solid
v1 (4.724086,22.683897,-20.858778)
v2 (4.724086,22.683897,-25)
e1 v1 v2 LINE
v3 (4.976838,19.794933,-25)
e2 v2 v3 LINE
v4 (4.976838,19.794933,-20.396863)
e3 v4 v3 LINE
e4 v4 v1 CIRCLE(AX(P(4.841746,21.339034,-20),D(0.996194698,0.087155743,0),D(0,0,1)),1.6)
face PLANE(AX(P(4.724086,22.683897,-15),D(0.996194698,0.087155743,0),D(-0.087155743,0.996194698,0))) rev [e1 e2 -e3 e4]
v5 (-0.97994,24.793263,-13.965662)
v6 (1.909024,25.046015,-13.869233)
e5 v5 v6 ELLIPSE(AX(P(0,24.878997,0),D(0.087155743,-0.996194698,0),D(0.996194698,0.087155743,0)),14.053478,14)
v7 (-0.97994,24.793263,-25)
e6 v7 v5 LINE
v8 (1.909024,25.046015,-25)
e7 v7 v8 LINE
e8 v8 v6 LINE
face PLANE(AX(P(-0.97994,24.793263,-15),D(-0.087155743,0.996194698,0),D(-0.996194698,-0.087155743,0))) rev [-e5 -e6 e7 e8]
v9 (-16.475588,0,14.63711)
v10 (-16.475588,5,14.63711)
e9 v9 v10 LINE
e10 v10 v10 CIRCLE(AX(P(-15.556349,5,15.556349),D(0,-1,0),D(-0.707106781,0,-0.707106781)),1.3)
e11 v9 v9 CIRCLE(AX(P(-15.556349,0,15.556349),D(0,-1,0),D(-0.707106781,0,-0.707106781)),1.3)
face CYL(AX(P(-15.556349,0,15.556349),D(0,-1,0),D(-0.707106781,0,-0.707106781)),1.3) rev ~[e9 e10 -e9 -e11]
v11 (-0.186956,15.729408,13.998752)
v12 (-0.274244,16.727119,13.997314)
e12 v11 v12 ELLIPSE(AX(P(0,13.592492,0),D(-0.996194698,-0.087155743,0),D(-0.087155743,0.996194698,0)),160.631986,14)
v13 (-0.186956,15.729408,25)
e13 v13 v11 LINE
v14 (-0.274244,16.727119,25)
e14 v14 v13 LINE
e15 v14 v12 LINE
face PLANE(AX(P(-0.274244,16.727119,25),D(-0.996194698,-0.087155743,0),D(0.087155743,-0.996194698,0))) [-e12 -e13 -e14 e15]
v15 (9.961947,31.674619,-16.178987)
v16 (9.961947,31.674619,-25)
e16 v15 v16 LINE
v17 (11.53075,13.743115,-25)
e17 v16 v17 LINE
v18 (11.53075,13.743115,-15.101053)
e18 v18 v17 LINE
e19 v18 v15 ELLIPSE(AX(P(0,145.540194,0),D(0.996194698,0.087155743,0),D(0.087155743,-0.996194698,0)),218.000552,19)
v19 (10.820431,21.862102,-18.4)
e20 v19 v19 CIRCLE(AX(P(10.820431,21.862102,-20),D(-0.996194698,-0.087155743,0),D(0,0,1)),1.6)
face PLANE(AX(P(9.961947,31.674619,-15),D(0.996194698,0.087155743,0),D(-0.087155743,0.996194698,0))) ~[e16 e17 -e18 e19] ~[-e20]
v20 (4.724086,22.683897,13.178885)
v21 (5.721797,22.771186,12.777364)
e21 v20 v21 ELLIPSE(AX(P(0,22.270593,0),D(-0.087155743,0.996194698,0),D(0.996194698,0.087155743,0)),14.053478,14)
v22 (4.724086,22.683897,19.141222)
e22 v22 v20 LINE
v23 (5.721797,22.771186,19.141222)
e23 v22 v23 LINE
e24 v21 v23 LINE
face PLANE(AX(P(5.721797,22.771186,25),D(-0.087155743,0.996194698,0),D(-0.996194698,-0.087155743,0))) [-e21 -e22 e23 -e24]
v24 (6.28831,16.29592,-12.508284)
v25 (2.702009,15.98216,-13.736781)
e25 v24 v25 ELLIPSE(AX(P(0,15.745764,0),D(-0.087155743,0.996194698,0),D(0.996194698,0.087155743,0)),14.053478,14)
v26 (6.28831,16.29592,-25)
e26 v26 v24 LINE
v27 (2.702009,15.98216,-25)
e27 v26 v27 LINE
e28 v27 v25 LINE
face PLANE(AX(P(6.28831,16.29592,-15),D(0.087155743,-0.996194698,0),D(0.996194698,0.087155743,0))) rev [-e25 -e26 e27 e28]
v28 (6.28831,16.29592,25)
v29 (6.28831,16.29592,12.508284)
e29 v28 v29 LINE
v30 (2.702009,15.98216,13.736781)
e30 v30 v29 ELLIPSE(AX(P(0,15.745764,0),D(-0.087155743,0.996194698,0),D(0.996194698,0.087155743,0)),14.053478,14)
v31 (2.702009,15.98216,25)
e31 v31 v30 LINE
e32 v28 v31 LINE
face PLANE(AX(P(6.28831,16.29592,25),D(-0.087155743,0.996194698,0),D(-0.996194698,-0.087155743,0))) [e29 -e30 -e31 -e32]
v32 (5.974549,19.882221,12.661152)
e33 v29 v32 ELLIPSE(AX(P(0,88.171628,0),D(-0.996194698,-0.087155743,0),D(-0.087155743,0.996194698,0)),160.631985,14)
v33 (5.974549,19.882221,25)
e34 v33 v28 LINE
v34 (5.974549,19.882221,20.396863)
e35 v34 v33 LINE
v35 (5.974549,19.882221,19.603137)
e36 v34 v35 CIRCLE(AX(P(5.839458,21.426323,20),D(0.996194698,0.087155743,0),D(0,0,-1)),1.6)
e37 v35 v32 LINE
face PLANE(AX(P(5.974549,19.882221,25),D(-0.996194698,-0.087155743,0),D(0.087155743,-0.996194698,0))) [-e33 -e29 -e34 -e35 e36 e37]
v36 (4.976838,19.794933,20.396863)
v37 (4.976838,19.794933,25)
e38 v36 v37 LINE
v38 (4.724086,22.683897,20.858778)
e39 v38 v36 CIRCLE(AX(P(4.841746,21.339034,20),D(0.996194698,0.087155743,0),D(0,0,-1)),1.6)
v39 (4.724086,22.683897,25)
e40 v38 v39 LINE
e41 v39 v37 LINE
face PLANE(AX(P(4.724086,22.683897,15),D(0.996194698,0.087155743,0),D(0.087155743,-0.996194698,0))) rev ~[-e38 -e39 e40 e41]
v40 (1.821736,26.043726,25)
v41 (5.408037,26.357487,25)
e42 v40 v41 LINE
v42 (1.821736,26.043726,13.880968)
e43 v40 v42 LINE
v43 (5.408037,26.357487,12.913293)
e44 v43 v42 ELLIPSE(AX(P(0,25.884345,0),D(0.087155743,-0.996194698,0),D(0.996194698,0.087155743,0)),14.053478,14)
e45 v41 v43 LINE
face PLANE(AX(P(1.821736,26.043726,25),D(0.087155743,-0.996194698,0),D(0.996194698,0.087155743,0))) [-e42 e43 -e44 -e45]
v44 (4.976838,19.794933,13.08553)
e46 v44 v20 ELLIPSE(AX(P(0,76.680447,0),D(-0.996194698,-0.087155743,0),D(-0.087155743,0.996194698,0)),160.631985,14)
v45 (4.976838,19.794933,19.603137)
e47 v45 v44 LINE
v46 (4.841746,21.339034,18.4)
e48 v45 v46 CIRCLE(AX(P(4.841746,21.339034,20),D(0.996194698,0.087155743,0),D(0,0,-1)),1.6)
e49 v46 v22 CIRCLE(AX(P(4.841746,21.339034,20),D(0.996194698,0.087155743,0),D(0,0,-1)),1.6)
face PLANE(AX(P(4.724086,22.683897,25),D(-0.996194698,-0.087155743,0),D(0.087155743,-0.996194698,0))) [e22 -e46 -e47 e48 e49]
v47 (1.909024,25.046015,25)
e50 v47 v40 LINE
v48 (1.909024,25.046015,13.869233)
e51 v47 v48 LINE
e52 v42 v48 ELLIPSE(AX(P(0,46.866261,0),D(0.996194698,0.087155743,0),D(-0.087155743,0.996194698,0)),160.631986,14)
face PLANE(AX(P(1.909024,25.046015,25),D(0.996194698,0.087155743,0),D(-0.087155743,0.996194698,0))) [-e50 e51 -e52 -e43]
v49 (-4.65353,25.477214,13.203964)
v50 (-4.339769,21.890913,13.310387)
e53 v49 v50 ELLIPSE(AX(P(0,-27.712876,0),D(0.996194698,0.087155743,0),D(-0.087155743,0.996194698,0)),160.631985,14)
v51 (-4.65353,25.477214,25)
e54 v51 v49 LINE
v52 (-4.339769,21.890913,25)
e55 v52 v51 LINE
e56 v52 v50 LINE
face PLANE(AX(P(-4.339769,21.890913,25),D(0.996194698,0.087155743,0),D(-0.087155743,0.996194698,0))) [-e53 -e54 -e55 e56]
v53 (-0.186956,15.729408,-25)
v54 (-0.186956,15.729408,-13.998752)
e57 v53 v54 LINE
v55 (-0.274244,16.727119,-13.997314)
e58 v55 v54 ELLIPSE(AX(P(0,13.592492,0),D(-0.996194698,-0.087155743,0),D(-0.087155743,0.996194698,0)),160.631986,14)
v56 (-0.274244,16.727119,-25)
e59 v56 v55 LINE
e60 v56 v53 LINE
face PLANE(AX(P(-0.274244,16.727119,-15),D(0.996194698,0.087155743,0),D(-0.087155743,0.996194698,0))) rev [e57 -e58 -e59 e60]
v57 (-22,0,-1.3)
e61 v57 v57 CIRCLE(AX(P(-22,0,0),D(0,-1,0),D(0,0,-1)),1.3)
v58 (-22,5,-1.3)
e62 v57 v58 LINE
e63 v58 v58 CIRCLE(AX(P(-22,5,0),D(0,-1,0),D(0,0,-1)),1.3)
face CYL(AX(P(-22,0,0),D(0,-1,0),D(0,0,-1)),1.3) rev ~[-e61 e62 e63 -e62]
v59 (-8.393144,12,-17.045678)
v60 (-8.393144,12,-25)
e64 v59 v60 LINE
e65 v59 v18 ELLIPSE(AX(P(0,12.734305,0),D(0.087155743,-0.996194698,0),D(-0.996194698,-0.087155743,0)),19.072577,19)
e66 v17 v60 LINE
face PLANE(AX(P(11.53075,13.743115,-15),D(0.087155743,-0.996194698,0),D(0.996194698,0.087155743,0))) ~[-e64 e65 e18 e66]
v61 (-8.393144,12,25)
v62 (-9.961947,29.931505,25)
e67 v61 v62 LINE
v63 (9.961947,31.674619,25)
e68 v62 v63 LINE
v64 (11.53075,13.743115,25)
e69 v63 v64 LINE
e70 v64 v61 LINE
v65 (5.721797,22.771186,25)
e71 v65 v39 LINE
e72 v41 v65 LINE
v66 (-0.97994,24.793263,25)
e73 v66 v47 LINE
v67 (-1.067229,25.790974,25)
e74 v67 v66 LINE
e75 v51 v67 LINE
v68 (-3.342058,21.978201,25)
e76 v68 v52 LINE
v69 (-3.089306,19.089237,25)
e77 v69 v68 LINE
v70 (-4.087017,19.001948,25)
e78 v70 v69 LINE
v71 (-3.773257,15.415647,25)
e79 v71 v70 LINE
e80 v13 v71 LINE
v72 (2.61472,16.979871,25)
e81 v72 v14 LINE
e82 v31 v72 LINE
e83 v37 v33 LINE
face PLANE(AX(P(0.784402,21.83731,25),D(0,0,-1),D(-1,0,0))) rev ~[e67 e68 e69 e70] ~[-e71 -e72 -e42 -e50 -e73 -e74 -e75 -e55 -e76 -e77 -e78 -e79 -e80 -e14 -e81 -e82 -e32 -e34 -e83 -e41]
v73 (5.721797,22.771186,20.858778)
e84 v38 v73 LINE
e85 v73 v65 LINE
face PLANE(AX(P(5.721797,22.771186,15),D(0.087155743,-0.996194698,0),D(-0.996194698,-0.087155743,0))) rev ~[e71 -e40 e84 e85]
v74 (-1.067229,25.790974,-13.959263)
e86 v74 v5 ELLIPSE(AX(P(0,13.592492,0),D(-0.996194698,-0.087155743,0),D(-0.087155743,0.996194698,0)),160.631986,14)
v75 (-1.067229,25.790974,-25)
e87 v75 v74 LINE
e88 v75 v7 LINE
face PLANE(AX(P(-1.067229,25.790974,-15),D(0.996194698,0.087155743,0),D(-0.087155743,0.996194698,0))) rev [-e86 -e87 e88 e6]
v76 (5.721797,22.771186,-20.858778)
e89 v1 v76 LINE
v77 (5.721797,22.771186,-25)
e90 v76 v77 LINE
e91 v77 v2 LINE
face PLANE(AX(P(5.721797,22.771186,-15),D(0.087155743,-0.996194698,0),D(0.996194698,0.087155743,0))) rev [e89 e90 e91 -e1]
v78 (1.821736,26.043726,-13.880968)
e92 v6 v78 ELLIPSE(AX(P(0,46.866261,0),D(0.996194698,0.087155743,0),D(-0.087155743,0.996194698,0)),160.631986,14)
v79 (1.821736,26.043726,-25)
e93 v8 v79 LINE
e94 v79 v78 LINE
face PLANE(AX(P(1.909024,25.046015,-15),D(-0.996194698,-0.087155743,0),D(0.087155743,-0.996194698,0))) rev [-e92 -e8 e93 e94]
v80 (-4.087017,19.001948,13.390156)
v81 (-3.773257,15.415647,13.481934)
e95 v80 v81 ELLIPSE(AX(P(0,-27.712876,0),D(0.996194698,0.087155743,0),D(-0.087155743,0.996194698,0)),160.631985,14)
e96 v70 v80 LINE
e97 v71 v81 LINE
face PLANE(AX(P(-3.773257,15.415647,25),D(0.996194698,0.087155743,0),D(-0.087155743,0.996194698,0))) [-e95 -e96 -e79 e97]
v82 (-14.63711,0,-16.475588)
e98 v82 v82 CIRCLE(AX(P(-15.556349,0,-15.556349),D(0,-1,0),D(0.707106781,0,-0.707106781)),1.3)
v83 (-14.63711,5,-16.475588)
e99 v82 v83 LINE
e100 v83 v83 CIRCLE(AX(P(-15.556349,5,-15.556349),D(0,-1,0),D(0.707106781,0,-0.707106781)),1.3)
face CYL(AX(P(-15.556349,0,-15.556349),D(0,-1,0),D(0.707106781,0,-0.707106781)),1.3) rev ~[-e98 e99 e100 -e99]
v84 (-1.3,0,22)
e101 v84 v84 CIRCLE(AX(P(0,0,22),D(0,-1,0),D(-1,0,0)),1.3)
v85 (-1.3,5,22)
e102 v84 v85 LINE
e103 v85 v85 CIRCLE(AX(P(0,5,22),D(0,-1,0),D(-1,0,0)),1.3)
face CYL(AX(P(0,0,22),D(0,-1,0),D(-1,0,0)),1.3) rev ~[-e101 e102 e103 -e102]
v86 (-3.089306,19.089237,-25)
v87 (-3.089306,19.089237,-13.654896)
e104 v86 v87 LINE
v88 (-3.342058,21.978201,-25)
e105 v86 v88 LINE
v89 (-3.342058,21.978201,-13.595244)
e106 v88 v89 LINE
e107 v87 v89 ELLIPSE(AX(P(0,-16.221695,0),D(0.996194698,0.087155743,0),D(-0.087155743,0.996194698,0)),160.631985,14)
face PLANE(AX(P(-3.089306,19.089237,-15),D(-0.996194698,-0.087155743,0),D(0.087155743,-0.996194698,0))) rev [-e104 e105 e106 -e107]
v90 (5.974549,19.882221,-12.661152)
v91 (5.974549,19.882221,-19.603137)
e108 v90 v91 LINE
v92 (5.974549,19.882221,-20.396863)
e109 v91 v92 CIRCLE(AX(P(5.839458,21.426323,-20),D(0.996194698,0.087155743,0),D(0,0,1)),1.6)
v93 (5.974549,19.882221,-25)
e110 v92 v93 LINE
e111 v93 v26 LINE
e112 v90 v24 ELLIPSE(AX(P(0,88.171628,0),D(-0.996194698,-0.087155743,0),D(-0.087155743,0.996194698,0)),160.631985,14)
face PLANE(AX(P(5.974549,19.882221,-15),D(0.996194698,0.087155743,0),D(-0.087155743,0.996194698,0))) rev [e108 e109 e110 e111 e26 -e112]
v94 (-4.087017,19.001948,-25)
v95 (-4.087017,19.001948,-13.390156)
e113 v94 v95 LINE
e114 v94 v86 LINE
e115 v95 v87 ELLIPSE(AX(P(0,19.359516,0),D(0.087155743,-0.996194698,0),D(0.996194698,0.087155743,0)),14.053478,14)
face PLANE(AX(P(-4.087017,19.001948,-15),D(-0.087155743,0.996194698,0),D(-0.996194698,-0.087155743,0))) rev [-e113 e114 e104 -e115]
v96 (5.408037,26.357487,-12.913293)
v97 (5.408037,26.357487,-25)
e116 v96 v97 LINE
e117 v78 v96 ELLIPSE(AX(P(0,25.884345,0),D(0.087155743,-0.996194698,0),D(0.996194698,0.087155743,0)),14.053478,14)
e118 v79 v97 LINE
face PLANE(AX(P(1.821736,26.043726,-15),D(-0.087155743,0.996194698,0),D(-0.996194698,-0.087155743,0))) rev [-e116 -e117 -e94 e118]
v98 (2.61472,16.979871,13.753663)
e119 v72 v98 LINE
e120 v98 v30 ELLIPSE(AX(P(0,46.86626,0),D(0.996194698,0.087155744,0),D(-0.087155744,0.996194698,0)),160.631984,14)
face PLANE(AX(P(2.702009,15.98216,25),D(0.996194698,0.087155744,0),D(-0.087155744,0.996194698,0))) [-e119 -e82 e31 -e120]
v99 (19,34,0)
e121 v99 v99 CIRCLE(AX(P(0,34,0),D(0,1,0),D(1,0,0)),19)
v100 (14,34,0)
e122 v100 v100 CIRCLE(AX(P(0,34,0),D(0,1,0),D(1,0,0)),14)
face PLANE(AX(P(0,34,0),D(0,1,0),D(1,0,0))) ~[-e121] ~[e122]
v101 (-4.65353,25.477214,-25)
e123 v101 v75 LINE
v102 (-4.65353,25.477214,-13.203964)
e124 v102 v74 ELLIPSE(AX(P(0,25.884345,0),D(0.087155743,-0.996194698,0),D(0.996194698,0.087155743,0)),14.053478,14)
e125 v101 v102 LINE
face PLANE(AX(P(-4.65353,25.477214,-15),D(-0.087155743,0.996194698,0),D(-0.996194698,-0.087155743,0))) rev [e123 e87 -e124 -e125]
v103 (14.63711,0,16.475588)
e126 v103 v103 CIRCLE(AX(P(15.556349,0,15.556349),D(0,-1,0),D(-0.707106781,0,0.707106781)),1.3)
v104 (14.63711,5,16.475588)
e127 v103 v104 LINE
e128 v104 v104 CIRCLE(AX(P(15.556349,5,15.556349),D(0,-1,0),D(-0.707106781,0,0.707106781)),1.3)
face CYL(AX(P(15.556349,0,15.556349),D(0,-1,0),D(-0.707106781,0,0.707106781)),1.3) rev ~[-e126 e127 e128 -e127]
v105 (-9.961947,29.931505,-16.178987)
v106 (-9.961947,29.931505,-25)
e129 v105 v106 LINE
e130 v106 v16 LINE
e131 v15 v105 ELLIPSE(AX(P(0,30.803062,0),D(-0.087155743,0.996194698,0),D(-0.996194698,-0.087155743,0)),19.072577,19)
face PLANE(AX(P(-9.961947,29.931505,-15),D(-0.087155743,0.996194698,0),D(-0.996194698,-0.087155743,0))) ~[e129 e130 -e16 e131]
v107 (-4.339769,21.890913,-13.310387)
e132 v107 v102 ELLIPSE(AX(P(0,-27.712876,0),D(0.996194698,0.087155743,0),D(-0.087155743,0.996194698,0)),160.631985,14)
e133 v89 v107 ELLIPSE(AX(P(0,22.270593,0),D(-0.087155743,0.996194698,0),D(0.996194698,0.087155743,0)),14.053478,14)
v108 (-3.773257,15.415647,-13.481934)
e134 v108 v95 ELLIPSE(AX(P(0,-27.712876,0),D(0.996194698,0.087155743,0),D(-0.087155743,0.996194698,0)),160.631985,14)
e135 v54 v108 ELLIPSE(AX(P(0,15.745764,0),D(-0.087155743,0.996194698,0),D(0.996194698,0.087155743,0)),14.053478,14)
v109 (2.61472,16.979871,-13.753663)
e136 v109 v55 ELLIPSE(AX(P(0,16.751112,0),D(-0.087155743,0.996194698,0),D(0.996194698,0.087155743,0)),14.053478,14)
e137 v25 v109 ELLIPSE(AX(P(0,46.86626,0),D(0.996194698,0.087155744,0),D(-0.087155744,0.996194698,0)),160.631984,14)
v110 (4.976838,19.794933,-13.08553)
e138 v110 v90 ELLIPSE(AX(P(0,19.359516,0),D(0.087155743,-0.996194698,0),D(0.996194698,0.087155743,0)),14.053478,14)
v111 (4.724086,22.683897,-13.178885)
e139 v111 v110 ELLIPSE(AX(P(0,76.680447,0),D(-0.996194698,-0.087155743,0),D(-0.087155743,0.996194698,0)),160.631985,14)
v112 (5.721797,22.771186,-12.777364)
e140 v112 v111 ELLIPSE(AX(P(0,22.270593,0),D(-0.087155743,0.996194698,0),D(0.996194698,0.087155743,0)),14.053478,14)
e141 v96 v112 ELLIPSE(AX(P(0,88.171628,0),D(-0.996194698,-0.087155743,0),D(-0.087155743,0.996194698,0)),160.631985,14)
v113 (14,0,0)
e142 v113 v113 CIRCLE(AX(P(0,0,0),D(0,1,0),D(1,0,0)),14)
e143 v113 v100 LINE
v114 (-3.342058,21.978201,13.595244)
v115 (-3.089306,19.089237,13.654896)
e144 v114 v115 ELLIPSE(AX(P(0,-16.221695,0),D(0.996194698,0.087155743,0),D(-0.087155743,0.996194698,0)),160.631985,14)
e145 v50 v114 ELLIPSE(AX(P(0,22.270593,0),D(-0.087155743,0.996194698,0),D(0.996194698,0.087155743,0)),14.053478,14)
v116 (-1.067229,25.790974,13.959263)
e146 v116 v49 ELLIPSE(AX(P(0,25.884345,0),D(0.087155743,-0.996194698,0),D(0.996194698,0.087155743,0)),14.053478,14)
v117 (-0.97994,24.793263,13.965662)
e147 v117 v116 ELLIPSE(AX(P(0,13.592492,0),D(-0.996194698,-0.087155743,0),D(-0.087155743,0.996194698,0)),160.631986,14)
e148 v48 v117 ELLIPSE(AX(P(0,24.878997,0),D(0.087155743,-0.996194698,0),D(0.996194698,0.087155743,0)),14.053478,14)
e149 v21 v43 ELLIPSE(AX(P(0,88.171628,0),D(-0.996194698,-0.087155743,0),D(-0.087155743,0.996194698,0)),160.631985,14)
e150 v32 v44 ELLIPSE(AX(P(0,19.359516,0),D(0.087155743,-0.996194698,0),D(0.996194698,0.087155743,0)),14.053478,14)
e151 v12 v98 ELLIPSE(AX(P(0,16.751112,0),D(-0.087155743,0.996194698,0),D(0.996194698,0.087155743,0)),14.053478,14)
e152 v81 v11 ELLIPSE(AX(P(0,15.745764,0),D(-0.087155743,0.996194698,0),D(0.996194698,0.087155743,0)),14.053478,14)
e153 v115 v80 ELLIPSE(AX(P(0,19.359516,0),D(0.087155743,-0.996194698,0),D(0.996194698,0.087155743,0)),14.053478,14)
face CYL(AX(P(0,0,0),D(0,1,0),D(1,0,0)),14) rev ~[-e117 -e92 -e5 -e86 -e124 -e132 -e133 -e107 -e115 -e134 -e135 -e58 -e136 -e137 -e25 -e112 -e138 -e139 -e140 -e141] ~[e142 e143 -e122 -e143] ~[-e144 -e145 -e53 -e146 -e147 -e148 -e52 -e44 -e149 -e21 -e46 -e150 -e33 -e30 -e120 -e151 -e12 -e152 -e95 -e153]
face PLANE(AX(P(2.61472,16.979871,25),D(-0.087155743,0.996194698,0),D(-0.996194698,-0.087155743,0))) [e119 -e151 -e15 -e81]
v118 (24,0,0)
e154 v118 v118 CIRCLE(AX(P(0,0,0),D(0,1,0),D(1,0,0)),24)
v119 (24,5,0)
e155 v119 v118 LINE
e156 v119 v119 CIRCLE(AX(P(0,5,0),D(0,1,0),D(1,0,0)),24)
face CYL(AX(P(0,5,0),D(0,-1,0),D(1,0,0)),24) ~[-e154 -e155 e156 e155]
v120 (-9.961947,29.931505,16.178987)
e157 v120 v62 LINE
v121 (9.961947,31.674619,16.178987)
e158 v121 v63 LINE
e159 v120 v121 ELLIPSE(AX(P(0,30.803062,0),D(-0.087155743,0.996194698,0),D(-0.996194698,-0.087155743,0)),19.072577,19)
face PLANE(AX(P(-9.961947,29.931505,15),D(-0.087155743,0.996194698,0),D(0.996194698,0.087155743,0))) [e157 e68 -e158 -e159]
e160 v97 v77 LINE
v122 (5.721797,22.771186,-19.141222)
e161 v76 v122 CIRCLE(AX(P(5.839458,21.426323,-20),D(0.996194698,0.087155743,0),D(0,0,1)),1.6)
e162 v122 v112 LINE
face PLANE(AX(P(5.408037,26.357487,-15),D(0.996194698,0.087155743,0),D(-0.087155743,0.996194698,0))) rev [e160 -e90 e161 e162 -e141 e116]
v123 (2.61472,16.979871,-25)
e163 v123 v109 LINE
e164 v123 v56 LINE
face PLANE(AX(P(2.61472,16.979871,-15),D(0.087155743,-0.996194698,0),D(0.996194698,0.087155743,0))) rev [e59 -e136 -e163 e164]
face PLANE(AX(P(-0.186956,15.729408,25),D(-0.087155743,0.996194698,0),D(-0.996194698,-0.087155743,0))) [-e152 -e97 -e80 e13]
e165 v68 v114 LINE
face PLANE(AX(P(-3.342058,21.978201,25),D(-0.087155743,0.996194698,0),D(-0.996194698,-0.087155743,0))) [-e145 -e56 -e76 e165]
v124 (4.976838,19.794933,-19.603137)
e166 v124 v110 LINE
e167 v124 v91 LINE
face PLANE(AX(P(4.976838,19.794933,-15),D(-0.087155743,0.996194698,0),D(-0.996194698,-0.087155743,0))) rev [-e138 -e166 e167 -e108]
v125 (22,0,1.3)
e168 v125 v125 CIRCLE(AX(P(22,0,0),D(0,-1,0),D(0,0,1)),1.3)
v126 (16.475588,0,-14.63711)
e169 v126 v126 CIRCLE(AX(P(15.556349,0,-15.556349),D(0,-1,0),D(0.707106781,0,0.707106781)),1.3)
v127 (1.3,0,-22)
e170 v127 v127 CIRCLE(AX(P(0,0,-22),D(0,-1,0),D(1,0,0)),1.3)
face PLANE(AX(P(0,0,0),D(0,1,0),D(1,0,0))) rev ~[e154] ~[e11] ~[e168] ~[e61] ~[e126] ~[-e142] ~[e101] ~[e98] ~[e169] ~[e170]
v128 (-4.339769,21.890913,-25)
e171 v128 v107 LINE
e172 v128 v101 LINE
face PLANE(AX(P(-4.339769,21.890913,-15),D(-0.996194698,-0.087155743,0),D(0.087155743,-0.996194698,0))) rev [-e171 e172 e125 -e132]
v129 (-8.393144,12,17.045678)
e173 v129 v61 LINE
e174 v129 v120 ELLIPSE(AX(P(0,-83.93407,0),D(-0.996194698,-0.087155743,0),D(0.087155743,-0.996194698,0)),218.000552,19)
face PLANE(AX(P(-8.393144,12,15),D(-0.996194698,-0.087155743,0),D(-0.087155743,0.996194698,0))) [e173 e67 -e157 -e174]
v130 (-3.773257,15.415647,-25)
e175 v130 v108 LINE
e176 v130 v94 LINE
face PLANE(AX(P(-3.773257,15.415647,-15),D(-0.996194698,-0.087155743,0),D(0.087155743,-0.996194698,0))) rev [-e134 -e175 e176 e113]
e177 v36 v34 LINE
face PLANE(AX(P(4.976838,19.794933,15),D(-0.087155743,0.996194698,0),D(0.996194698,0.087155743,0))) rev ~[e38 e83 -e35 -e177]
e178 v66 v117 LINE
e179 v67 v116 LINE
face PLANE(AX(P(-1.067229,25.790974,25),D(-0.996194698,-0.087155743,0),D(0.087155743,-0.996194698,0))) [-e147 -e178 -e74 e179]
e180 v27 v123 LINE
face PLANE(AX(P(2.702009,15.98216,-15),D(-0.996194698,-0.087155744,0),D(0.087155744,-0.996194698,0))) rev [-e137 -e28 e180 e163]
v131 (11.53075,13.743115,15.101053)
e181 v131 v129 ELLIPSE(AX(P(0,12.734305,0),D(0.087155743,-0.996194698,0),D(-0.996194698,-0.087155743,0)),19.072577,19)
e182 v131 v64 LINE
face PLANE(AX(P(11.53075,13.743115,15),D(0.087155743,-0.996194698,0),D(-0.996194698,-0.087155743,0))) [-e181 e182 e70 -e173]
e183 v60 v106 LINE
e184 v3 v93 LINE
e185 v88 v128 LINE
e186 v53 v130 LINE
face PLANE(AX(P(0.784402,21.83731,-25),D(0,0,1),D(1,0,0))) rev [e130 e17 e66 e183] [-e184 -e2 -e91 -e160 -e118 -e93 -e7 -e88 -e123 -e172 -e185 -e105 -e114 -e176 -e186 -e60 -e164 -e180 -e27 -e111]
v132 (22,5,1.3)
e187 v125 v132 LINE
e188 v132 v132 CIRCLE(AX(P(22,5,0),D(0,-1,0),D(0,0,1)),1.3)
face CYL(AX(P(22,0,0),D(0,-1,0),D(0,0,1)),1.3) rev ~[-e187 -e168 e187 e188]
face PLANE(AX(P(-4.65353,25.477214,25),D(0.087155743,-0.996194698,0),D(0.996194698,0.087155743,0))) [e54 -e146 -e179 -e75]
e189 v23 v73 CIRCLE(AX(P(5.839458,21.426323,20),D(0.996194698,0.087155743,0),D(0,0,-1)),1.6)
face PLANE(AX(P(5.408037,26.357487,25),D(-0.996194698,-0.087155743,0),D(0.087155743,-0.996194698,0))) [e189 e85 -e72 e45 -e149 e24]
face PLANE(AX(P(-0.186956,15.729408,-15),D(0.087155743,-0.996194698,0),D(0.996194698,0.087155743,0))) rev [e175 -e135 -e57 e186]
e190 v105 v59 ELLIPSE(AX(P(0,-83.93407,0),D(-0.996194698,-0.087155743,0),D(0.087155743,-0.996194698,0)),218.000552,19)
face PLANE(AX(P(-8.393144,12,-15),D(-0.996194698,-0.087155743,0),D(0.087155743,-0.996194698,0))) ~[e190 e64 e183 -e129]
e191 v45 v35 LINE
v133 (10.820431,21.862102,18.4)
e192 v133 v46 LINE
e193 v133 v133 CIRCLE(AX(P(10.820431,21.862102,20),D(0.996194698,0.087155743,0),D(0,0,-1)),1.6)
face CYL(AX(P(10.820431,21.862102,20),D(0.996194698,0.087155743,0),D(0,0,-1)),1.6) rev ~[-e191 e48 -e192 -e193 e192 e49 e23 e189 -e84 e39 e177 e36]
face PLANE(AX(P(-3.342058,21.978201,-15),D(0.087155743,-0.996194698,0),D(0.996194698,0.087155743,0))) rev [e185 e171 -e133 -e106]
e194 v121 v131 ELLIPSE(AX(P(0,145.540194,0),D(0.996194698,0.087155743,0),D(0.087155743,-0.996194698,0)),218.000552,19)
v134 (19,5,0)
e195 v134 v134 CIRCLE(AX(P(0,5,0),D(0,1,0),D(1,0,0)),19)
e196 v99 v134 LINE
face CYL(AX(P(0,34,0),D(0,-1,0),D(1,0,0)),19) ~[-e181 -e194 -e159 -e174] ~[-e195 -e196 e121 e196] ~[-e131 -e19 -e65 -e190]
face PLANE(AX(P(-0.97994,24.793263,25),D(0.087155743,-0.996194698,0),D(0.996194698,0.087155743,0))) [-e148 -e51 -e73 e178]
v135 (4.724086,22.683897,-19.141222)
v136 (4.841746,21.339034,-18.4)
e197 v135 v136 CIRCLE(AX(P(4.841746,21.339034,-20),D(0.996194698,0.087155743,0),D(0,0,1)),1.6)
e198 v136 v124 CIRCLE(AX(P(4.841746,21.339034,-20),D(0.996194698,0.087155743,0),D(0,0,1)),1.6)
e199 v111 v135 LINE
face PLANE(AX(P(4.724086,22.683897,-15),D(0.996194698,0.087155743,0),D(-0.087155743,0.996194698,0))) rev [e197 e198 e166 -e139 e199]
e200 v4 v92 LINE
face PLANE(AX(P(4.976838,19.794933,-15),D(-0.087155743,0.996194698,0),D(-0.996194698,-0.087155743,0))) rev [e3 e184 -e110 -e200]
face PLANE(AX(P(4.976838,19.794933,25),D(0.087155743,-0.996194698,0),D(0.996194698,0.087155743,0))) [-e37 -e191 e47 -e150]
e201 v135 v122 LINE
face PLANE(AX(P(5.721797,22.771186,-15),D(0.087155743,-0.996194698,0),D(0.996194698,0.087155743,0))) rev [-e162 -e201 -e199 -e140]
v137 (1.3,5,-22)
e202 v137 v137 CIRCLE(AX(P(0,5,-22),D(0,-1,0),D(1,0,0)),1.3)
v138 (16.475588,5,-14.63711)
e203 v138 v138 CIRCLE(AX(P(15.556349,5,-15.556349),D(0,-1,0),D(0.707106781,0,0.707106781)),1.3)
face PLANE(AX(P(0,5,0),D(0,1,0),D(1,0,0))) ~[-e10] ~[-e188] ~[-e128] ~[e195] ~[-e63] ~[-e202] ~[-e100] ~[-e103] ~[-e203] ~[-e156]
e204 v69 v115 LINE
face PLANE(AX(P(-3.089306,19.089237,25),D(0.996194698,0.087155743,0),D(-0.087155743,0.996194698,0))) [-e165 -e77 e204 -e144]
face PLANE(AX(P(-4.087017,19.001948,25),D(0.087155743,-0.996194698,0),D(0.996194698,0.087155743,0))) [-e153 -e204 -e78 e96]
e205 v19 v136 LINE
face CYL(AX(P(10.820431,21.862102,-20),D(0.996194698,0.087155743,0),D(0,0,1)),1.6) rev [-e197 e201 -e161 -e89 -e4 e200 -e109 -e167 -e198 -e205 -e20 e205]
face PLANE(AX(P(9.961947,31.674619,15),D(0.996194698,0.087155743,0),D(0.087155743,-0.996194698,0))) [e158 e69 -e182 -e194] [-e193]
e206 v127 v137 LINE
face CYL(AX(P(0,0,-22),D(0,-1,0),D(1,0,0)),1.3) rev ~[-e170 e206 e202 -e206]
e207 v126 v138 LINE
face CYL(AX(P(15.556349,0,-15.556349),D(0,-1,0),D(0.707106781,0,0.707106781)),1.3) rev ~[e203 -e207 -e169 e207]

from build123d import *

# Parameters (mm, degrees)
ESQUISSE4_R                = 1.3
FIXINGHOLE_DEPTH           = 35
FIXINGHOLEREPETITION_COUNT = 8
RIGHTFIXING_DEPTH          = 10
ESQUISSE7_R                = 1.6
TOPFIXINGHOLES_DEPTH       = 8.6
HOLEFORFIXING_DEPTH        = 51


with BuildPart() as part:
    # Esquisse1 → Révolution1 (revolve)
    with BuildSketch(Plane.XY):
        Polygon((14, 0), (14, 34), (19, 34), (19, 5), (24, 5), (24, 0), align=None)
    revolve(axis=Axis((0, -1.825, 0), (0, 1, 0)))

    # Esquisse4 → FixingHole (cut, through all)
    with BuildSketch(Plane(origin=(0, 0, 0), x_dir=(-1, 0, 0), z_dir=(0, -1, 0))):
        with Locations((0, -22)):
            Circle(ESQUISSE4_R)
    fixinghole = extrude(amount=-FIXINGHOLE_DEPTH, mode=Mode.SUBTRACT)

    # FixingHoleRepetition: FixingHole ×8 about axis
    fixingholerepetition_axis = Axis((0, 0, 0), (0, 1, 0))
    for i in range(1, FIXINGHOLEREPETITION_COUNT):
        add(fixinghole.rotate(fixingholerepetition_axis, i * 360 / FIXINGHOLEREPETITION_COUNT), mode=Mode.SUBTRACT)

    # Esquisse5 → RightFixing (add)
    with BuildSketch(Plane.XY.offset(15)):
        Polygon((9.961946981, 31.674619421), (11.53075035, 13.743114855), (-8.393143611, 12), (-9.961946981, 29.931504566), align=None)
        Polygon((5.40803663, 26.357486686), (5.721797304, 22.771185773), (4.724085983, 22.683897343), (4.976837637, 19.794932719), (5.974548958, 19.882221149), (6.288309632, 16.295920235), (2.702008719, 15.982159562), (2.614720288, 16.979870883), (-0.274244336, 16.727119229), (-0.186955906, 15.729407908), (-3.773256819, 15.415647234), (-4.087017493, 19.001948147), (-3.089306172, 19.089236577), (-3.342057826, 21.978201201), (-4.339769147, 21.890912771), (-4.653529821, 25.477213684), (-1.067228908, 25.790974358), (-0.979940478, 24.793263037), (1.909024147, 25.046014691), (1.821735717, 26.043726012), align=None, mode=Mode.SUBTRACT)
    rightfixing = extrude(amount=RIGHTFIXING_DEPTH)

    # Esquisse7 → TopFixingHoles (cut)
    with BuildSketch(Plane(origin=(12.636394772, 1.10554129, 0), x_dir=(0, 0, -1), z_dir=(0.996194698, 0.087155743, 0))):
        with Locations((-20, 20.835847043)):
            Circle(ESQUISSE7_R)
    topfixingholes = extrude(amount=-TOPFIXINGHOLES_DEPTH, mode=Mode.SUBTRACT)

    # FixingSymetry: RightFixing, TopFixingHoles across plane
    add(rightfixing.mirror(Plane.XY))
    add(topfixingholes.mirror(Plane.XY), mode=Mode.SUBTRACT)

    # Esquisse6 → HoleForFixing (cut, through all)
    with BuildSketch(Plane.XY.offset(25)):
        Polygon((5.40803663, 26.357486686), (5.721797304, 22.771185773), (4.724085983, 22.683897343), (4.976837637, 19.794932719), (5.974548958, 19.882221149), (6.288309632, 16.295920235), (2.702008719, 15.982159562), (2.614720288, 16.979870883), (-0.274244336, 16.727119229), (-0.186955906, 15.729407908), (-3.773256819, 15.415647234), (-4.087017493, 19.001948147), (-3.089306172, 19.089236577), (-3.342057826, 21.978201201), (-4.339769147, 21.890912771), (-4.653529821, 25.477213684), (-1.067228908, 25.790974358), (-0.979940478, 24.793263037), (1.909024147, 25.046014691), (1.821735717, 26.043726012), align=None)
    extrude(amount=-HOLEFORFIXING_DEPTH, mode=Mode.SUBTRACT)


solid = part.part
